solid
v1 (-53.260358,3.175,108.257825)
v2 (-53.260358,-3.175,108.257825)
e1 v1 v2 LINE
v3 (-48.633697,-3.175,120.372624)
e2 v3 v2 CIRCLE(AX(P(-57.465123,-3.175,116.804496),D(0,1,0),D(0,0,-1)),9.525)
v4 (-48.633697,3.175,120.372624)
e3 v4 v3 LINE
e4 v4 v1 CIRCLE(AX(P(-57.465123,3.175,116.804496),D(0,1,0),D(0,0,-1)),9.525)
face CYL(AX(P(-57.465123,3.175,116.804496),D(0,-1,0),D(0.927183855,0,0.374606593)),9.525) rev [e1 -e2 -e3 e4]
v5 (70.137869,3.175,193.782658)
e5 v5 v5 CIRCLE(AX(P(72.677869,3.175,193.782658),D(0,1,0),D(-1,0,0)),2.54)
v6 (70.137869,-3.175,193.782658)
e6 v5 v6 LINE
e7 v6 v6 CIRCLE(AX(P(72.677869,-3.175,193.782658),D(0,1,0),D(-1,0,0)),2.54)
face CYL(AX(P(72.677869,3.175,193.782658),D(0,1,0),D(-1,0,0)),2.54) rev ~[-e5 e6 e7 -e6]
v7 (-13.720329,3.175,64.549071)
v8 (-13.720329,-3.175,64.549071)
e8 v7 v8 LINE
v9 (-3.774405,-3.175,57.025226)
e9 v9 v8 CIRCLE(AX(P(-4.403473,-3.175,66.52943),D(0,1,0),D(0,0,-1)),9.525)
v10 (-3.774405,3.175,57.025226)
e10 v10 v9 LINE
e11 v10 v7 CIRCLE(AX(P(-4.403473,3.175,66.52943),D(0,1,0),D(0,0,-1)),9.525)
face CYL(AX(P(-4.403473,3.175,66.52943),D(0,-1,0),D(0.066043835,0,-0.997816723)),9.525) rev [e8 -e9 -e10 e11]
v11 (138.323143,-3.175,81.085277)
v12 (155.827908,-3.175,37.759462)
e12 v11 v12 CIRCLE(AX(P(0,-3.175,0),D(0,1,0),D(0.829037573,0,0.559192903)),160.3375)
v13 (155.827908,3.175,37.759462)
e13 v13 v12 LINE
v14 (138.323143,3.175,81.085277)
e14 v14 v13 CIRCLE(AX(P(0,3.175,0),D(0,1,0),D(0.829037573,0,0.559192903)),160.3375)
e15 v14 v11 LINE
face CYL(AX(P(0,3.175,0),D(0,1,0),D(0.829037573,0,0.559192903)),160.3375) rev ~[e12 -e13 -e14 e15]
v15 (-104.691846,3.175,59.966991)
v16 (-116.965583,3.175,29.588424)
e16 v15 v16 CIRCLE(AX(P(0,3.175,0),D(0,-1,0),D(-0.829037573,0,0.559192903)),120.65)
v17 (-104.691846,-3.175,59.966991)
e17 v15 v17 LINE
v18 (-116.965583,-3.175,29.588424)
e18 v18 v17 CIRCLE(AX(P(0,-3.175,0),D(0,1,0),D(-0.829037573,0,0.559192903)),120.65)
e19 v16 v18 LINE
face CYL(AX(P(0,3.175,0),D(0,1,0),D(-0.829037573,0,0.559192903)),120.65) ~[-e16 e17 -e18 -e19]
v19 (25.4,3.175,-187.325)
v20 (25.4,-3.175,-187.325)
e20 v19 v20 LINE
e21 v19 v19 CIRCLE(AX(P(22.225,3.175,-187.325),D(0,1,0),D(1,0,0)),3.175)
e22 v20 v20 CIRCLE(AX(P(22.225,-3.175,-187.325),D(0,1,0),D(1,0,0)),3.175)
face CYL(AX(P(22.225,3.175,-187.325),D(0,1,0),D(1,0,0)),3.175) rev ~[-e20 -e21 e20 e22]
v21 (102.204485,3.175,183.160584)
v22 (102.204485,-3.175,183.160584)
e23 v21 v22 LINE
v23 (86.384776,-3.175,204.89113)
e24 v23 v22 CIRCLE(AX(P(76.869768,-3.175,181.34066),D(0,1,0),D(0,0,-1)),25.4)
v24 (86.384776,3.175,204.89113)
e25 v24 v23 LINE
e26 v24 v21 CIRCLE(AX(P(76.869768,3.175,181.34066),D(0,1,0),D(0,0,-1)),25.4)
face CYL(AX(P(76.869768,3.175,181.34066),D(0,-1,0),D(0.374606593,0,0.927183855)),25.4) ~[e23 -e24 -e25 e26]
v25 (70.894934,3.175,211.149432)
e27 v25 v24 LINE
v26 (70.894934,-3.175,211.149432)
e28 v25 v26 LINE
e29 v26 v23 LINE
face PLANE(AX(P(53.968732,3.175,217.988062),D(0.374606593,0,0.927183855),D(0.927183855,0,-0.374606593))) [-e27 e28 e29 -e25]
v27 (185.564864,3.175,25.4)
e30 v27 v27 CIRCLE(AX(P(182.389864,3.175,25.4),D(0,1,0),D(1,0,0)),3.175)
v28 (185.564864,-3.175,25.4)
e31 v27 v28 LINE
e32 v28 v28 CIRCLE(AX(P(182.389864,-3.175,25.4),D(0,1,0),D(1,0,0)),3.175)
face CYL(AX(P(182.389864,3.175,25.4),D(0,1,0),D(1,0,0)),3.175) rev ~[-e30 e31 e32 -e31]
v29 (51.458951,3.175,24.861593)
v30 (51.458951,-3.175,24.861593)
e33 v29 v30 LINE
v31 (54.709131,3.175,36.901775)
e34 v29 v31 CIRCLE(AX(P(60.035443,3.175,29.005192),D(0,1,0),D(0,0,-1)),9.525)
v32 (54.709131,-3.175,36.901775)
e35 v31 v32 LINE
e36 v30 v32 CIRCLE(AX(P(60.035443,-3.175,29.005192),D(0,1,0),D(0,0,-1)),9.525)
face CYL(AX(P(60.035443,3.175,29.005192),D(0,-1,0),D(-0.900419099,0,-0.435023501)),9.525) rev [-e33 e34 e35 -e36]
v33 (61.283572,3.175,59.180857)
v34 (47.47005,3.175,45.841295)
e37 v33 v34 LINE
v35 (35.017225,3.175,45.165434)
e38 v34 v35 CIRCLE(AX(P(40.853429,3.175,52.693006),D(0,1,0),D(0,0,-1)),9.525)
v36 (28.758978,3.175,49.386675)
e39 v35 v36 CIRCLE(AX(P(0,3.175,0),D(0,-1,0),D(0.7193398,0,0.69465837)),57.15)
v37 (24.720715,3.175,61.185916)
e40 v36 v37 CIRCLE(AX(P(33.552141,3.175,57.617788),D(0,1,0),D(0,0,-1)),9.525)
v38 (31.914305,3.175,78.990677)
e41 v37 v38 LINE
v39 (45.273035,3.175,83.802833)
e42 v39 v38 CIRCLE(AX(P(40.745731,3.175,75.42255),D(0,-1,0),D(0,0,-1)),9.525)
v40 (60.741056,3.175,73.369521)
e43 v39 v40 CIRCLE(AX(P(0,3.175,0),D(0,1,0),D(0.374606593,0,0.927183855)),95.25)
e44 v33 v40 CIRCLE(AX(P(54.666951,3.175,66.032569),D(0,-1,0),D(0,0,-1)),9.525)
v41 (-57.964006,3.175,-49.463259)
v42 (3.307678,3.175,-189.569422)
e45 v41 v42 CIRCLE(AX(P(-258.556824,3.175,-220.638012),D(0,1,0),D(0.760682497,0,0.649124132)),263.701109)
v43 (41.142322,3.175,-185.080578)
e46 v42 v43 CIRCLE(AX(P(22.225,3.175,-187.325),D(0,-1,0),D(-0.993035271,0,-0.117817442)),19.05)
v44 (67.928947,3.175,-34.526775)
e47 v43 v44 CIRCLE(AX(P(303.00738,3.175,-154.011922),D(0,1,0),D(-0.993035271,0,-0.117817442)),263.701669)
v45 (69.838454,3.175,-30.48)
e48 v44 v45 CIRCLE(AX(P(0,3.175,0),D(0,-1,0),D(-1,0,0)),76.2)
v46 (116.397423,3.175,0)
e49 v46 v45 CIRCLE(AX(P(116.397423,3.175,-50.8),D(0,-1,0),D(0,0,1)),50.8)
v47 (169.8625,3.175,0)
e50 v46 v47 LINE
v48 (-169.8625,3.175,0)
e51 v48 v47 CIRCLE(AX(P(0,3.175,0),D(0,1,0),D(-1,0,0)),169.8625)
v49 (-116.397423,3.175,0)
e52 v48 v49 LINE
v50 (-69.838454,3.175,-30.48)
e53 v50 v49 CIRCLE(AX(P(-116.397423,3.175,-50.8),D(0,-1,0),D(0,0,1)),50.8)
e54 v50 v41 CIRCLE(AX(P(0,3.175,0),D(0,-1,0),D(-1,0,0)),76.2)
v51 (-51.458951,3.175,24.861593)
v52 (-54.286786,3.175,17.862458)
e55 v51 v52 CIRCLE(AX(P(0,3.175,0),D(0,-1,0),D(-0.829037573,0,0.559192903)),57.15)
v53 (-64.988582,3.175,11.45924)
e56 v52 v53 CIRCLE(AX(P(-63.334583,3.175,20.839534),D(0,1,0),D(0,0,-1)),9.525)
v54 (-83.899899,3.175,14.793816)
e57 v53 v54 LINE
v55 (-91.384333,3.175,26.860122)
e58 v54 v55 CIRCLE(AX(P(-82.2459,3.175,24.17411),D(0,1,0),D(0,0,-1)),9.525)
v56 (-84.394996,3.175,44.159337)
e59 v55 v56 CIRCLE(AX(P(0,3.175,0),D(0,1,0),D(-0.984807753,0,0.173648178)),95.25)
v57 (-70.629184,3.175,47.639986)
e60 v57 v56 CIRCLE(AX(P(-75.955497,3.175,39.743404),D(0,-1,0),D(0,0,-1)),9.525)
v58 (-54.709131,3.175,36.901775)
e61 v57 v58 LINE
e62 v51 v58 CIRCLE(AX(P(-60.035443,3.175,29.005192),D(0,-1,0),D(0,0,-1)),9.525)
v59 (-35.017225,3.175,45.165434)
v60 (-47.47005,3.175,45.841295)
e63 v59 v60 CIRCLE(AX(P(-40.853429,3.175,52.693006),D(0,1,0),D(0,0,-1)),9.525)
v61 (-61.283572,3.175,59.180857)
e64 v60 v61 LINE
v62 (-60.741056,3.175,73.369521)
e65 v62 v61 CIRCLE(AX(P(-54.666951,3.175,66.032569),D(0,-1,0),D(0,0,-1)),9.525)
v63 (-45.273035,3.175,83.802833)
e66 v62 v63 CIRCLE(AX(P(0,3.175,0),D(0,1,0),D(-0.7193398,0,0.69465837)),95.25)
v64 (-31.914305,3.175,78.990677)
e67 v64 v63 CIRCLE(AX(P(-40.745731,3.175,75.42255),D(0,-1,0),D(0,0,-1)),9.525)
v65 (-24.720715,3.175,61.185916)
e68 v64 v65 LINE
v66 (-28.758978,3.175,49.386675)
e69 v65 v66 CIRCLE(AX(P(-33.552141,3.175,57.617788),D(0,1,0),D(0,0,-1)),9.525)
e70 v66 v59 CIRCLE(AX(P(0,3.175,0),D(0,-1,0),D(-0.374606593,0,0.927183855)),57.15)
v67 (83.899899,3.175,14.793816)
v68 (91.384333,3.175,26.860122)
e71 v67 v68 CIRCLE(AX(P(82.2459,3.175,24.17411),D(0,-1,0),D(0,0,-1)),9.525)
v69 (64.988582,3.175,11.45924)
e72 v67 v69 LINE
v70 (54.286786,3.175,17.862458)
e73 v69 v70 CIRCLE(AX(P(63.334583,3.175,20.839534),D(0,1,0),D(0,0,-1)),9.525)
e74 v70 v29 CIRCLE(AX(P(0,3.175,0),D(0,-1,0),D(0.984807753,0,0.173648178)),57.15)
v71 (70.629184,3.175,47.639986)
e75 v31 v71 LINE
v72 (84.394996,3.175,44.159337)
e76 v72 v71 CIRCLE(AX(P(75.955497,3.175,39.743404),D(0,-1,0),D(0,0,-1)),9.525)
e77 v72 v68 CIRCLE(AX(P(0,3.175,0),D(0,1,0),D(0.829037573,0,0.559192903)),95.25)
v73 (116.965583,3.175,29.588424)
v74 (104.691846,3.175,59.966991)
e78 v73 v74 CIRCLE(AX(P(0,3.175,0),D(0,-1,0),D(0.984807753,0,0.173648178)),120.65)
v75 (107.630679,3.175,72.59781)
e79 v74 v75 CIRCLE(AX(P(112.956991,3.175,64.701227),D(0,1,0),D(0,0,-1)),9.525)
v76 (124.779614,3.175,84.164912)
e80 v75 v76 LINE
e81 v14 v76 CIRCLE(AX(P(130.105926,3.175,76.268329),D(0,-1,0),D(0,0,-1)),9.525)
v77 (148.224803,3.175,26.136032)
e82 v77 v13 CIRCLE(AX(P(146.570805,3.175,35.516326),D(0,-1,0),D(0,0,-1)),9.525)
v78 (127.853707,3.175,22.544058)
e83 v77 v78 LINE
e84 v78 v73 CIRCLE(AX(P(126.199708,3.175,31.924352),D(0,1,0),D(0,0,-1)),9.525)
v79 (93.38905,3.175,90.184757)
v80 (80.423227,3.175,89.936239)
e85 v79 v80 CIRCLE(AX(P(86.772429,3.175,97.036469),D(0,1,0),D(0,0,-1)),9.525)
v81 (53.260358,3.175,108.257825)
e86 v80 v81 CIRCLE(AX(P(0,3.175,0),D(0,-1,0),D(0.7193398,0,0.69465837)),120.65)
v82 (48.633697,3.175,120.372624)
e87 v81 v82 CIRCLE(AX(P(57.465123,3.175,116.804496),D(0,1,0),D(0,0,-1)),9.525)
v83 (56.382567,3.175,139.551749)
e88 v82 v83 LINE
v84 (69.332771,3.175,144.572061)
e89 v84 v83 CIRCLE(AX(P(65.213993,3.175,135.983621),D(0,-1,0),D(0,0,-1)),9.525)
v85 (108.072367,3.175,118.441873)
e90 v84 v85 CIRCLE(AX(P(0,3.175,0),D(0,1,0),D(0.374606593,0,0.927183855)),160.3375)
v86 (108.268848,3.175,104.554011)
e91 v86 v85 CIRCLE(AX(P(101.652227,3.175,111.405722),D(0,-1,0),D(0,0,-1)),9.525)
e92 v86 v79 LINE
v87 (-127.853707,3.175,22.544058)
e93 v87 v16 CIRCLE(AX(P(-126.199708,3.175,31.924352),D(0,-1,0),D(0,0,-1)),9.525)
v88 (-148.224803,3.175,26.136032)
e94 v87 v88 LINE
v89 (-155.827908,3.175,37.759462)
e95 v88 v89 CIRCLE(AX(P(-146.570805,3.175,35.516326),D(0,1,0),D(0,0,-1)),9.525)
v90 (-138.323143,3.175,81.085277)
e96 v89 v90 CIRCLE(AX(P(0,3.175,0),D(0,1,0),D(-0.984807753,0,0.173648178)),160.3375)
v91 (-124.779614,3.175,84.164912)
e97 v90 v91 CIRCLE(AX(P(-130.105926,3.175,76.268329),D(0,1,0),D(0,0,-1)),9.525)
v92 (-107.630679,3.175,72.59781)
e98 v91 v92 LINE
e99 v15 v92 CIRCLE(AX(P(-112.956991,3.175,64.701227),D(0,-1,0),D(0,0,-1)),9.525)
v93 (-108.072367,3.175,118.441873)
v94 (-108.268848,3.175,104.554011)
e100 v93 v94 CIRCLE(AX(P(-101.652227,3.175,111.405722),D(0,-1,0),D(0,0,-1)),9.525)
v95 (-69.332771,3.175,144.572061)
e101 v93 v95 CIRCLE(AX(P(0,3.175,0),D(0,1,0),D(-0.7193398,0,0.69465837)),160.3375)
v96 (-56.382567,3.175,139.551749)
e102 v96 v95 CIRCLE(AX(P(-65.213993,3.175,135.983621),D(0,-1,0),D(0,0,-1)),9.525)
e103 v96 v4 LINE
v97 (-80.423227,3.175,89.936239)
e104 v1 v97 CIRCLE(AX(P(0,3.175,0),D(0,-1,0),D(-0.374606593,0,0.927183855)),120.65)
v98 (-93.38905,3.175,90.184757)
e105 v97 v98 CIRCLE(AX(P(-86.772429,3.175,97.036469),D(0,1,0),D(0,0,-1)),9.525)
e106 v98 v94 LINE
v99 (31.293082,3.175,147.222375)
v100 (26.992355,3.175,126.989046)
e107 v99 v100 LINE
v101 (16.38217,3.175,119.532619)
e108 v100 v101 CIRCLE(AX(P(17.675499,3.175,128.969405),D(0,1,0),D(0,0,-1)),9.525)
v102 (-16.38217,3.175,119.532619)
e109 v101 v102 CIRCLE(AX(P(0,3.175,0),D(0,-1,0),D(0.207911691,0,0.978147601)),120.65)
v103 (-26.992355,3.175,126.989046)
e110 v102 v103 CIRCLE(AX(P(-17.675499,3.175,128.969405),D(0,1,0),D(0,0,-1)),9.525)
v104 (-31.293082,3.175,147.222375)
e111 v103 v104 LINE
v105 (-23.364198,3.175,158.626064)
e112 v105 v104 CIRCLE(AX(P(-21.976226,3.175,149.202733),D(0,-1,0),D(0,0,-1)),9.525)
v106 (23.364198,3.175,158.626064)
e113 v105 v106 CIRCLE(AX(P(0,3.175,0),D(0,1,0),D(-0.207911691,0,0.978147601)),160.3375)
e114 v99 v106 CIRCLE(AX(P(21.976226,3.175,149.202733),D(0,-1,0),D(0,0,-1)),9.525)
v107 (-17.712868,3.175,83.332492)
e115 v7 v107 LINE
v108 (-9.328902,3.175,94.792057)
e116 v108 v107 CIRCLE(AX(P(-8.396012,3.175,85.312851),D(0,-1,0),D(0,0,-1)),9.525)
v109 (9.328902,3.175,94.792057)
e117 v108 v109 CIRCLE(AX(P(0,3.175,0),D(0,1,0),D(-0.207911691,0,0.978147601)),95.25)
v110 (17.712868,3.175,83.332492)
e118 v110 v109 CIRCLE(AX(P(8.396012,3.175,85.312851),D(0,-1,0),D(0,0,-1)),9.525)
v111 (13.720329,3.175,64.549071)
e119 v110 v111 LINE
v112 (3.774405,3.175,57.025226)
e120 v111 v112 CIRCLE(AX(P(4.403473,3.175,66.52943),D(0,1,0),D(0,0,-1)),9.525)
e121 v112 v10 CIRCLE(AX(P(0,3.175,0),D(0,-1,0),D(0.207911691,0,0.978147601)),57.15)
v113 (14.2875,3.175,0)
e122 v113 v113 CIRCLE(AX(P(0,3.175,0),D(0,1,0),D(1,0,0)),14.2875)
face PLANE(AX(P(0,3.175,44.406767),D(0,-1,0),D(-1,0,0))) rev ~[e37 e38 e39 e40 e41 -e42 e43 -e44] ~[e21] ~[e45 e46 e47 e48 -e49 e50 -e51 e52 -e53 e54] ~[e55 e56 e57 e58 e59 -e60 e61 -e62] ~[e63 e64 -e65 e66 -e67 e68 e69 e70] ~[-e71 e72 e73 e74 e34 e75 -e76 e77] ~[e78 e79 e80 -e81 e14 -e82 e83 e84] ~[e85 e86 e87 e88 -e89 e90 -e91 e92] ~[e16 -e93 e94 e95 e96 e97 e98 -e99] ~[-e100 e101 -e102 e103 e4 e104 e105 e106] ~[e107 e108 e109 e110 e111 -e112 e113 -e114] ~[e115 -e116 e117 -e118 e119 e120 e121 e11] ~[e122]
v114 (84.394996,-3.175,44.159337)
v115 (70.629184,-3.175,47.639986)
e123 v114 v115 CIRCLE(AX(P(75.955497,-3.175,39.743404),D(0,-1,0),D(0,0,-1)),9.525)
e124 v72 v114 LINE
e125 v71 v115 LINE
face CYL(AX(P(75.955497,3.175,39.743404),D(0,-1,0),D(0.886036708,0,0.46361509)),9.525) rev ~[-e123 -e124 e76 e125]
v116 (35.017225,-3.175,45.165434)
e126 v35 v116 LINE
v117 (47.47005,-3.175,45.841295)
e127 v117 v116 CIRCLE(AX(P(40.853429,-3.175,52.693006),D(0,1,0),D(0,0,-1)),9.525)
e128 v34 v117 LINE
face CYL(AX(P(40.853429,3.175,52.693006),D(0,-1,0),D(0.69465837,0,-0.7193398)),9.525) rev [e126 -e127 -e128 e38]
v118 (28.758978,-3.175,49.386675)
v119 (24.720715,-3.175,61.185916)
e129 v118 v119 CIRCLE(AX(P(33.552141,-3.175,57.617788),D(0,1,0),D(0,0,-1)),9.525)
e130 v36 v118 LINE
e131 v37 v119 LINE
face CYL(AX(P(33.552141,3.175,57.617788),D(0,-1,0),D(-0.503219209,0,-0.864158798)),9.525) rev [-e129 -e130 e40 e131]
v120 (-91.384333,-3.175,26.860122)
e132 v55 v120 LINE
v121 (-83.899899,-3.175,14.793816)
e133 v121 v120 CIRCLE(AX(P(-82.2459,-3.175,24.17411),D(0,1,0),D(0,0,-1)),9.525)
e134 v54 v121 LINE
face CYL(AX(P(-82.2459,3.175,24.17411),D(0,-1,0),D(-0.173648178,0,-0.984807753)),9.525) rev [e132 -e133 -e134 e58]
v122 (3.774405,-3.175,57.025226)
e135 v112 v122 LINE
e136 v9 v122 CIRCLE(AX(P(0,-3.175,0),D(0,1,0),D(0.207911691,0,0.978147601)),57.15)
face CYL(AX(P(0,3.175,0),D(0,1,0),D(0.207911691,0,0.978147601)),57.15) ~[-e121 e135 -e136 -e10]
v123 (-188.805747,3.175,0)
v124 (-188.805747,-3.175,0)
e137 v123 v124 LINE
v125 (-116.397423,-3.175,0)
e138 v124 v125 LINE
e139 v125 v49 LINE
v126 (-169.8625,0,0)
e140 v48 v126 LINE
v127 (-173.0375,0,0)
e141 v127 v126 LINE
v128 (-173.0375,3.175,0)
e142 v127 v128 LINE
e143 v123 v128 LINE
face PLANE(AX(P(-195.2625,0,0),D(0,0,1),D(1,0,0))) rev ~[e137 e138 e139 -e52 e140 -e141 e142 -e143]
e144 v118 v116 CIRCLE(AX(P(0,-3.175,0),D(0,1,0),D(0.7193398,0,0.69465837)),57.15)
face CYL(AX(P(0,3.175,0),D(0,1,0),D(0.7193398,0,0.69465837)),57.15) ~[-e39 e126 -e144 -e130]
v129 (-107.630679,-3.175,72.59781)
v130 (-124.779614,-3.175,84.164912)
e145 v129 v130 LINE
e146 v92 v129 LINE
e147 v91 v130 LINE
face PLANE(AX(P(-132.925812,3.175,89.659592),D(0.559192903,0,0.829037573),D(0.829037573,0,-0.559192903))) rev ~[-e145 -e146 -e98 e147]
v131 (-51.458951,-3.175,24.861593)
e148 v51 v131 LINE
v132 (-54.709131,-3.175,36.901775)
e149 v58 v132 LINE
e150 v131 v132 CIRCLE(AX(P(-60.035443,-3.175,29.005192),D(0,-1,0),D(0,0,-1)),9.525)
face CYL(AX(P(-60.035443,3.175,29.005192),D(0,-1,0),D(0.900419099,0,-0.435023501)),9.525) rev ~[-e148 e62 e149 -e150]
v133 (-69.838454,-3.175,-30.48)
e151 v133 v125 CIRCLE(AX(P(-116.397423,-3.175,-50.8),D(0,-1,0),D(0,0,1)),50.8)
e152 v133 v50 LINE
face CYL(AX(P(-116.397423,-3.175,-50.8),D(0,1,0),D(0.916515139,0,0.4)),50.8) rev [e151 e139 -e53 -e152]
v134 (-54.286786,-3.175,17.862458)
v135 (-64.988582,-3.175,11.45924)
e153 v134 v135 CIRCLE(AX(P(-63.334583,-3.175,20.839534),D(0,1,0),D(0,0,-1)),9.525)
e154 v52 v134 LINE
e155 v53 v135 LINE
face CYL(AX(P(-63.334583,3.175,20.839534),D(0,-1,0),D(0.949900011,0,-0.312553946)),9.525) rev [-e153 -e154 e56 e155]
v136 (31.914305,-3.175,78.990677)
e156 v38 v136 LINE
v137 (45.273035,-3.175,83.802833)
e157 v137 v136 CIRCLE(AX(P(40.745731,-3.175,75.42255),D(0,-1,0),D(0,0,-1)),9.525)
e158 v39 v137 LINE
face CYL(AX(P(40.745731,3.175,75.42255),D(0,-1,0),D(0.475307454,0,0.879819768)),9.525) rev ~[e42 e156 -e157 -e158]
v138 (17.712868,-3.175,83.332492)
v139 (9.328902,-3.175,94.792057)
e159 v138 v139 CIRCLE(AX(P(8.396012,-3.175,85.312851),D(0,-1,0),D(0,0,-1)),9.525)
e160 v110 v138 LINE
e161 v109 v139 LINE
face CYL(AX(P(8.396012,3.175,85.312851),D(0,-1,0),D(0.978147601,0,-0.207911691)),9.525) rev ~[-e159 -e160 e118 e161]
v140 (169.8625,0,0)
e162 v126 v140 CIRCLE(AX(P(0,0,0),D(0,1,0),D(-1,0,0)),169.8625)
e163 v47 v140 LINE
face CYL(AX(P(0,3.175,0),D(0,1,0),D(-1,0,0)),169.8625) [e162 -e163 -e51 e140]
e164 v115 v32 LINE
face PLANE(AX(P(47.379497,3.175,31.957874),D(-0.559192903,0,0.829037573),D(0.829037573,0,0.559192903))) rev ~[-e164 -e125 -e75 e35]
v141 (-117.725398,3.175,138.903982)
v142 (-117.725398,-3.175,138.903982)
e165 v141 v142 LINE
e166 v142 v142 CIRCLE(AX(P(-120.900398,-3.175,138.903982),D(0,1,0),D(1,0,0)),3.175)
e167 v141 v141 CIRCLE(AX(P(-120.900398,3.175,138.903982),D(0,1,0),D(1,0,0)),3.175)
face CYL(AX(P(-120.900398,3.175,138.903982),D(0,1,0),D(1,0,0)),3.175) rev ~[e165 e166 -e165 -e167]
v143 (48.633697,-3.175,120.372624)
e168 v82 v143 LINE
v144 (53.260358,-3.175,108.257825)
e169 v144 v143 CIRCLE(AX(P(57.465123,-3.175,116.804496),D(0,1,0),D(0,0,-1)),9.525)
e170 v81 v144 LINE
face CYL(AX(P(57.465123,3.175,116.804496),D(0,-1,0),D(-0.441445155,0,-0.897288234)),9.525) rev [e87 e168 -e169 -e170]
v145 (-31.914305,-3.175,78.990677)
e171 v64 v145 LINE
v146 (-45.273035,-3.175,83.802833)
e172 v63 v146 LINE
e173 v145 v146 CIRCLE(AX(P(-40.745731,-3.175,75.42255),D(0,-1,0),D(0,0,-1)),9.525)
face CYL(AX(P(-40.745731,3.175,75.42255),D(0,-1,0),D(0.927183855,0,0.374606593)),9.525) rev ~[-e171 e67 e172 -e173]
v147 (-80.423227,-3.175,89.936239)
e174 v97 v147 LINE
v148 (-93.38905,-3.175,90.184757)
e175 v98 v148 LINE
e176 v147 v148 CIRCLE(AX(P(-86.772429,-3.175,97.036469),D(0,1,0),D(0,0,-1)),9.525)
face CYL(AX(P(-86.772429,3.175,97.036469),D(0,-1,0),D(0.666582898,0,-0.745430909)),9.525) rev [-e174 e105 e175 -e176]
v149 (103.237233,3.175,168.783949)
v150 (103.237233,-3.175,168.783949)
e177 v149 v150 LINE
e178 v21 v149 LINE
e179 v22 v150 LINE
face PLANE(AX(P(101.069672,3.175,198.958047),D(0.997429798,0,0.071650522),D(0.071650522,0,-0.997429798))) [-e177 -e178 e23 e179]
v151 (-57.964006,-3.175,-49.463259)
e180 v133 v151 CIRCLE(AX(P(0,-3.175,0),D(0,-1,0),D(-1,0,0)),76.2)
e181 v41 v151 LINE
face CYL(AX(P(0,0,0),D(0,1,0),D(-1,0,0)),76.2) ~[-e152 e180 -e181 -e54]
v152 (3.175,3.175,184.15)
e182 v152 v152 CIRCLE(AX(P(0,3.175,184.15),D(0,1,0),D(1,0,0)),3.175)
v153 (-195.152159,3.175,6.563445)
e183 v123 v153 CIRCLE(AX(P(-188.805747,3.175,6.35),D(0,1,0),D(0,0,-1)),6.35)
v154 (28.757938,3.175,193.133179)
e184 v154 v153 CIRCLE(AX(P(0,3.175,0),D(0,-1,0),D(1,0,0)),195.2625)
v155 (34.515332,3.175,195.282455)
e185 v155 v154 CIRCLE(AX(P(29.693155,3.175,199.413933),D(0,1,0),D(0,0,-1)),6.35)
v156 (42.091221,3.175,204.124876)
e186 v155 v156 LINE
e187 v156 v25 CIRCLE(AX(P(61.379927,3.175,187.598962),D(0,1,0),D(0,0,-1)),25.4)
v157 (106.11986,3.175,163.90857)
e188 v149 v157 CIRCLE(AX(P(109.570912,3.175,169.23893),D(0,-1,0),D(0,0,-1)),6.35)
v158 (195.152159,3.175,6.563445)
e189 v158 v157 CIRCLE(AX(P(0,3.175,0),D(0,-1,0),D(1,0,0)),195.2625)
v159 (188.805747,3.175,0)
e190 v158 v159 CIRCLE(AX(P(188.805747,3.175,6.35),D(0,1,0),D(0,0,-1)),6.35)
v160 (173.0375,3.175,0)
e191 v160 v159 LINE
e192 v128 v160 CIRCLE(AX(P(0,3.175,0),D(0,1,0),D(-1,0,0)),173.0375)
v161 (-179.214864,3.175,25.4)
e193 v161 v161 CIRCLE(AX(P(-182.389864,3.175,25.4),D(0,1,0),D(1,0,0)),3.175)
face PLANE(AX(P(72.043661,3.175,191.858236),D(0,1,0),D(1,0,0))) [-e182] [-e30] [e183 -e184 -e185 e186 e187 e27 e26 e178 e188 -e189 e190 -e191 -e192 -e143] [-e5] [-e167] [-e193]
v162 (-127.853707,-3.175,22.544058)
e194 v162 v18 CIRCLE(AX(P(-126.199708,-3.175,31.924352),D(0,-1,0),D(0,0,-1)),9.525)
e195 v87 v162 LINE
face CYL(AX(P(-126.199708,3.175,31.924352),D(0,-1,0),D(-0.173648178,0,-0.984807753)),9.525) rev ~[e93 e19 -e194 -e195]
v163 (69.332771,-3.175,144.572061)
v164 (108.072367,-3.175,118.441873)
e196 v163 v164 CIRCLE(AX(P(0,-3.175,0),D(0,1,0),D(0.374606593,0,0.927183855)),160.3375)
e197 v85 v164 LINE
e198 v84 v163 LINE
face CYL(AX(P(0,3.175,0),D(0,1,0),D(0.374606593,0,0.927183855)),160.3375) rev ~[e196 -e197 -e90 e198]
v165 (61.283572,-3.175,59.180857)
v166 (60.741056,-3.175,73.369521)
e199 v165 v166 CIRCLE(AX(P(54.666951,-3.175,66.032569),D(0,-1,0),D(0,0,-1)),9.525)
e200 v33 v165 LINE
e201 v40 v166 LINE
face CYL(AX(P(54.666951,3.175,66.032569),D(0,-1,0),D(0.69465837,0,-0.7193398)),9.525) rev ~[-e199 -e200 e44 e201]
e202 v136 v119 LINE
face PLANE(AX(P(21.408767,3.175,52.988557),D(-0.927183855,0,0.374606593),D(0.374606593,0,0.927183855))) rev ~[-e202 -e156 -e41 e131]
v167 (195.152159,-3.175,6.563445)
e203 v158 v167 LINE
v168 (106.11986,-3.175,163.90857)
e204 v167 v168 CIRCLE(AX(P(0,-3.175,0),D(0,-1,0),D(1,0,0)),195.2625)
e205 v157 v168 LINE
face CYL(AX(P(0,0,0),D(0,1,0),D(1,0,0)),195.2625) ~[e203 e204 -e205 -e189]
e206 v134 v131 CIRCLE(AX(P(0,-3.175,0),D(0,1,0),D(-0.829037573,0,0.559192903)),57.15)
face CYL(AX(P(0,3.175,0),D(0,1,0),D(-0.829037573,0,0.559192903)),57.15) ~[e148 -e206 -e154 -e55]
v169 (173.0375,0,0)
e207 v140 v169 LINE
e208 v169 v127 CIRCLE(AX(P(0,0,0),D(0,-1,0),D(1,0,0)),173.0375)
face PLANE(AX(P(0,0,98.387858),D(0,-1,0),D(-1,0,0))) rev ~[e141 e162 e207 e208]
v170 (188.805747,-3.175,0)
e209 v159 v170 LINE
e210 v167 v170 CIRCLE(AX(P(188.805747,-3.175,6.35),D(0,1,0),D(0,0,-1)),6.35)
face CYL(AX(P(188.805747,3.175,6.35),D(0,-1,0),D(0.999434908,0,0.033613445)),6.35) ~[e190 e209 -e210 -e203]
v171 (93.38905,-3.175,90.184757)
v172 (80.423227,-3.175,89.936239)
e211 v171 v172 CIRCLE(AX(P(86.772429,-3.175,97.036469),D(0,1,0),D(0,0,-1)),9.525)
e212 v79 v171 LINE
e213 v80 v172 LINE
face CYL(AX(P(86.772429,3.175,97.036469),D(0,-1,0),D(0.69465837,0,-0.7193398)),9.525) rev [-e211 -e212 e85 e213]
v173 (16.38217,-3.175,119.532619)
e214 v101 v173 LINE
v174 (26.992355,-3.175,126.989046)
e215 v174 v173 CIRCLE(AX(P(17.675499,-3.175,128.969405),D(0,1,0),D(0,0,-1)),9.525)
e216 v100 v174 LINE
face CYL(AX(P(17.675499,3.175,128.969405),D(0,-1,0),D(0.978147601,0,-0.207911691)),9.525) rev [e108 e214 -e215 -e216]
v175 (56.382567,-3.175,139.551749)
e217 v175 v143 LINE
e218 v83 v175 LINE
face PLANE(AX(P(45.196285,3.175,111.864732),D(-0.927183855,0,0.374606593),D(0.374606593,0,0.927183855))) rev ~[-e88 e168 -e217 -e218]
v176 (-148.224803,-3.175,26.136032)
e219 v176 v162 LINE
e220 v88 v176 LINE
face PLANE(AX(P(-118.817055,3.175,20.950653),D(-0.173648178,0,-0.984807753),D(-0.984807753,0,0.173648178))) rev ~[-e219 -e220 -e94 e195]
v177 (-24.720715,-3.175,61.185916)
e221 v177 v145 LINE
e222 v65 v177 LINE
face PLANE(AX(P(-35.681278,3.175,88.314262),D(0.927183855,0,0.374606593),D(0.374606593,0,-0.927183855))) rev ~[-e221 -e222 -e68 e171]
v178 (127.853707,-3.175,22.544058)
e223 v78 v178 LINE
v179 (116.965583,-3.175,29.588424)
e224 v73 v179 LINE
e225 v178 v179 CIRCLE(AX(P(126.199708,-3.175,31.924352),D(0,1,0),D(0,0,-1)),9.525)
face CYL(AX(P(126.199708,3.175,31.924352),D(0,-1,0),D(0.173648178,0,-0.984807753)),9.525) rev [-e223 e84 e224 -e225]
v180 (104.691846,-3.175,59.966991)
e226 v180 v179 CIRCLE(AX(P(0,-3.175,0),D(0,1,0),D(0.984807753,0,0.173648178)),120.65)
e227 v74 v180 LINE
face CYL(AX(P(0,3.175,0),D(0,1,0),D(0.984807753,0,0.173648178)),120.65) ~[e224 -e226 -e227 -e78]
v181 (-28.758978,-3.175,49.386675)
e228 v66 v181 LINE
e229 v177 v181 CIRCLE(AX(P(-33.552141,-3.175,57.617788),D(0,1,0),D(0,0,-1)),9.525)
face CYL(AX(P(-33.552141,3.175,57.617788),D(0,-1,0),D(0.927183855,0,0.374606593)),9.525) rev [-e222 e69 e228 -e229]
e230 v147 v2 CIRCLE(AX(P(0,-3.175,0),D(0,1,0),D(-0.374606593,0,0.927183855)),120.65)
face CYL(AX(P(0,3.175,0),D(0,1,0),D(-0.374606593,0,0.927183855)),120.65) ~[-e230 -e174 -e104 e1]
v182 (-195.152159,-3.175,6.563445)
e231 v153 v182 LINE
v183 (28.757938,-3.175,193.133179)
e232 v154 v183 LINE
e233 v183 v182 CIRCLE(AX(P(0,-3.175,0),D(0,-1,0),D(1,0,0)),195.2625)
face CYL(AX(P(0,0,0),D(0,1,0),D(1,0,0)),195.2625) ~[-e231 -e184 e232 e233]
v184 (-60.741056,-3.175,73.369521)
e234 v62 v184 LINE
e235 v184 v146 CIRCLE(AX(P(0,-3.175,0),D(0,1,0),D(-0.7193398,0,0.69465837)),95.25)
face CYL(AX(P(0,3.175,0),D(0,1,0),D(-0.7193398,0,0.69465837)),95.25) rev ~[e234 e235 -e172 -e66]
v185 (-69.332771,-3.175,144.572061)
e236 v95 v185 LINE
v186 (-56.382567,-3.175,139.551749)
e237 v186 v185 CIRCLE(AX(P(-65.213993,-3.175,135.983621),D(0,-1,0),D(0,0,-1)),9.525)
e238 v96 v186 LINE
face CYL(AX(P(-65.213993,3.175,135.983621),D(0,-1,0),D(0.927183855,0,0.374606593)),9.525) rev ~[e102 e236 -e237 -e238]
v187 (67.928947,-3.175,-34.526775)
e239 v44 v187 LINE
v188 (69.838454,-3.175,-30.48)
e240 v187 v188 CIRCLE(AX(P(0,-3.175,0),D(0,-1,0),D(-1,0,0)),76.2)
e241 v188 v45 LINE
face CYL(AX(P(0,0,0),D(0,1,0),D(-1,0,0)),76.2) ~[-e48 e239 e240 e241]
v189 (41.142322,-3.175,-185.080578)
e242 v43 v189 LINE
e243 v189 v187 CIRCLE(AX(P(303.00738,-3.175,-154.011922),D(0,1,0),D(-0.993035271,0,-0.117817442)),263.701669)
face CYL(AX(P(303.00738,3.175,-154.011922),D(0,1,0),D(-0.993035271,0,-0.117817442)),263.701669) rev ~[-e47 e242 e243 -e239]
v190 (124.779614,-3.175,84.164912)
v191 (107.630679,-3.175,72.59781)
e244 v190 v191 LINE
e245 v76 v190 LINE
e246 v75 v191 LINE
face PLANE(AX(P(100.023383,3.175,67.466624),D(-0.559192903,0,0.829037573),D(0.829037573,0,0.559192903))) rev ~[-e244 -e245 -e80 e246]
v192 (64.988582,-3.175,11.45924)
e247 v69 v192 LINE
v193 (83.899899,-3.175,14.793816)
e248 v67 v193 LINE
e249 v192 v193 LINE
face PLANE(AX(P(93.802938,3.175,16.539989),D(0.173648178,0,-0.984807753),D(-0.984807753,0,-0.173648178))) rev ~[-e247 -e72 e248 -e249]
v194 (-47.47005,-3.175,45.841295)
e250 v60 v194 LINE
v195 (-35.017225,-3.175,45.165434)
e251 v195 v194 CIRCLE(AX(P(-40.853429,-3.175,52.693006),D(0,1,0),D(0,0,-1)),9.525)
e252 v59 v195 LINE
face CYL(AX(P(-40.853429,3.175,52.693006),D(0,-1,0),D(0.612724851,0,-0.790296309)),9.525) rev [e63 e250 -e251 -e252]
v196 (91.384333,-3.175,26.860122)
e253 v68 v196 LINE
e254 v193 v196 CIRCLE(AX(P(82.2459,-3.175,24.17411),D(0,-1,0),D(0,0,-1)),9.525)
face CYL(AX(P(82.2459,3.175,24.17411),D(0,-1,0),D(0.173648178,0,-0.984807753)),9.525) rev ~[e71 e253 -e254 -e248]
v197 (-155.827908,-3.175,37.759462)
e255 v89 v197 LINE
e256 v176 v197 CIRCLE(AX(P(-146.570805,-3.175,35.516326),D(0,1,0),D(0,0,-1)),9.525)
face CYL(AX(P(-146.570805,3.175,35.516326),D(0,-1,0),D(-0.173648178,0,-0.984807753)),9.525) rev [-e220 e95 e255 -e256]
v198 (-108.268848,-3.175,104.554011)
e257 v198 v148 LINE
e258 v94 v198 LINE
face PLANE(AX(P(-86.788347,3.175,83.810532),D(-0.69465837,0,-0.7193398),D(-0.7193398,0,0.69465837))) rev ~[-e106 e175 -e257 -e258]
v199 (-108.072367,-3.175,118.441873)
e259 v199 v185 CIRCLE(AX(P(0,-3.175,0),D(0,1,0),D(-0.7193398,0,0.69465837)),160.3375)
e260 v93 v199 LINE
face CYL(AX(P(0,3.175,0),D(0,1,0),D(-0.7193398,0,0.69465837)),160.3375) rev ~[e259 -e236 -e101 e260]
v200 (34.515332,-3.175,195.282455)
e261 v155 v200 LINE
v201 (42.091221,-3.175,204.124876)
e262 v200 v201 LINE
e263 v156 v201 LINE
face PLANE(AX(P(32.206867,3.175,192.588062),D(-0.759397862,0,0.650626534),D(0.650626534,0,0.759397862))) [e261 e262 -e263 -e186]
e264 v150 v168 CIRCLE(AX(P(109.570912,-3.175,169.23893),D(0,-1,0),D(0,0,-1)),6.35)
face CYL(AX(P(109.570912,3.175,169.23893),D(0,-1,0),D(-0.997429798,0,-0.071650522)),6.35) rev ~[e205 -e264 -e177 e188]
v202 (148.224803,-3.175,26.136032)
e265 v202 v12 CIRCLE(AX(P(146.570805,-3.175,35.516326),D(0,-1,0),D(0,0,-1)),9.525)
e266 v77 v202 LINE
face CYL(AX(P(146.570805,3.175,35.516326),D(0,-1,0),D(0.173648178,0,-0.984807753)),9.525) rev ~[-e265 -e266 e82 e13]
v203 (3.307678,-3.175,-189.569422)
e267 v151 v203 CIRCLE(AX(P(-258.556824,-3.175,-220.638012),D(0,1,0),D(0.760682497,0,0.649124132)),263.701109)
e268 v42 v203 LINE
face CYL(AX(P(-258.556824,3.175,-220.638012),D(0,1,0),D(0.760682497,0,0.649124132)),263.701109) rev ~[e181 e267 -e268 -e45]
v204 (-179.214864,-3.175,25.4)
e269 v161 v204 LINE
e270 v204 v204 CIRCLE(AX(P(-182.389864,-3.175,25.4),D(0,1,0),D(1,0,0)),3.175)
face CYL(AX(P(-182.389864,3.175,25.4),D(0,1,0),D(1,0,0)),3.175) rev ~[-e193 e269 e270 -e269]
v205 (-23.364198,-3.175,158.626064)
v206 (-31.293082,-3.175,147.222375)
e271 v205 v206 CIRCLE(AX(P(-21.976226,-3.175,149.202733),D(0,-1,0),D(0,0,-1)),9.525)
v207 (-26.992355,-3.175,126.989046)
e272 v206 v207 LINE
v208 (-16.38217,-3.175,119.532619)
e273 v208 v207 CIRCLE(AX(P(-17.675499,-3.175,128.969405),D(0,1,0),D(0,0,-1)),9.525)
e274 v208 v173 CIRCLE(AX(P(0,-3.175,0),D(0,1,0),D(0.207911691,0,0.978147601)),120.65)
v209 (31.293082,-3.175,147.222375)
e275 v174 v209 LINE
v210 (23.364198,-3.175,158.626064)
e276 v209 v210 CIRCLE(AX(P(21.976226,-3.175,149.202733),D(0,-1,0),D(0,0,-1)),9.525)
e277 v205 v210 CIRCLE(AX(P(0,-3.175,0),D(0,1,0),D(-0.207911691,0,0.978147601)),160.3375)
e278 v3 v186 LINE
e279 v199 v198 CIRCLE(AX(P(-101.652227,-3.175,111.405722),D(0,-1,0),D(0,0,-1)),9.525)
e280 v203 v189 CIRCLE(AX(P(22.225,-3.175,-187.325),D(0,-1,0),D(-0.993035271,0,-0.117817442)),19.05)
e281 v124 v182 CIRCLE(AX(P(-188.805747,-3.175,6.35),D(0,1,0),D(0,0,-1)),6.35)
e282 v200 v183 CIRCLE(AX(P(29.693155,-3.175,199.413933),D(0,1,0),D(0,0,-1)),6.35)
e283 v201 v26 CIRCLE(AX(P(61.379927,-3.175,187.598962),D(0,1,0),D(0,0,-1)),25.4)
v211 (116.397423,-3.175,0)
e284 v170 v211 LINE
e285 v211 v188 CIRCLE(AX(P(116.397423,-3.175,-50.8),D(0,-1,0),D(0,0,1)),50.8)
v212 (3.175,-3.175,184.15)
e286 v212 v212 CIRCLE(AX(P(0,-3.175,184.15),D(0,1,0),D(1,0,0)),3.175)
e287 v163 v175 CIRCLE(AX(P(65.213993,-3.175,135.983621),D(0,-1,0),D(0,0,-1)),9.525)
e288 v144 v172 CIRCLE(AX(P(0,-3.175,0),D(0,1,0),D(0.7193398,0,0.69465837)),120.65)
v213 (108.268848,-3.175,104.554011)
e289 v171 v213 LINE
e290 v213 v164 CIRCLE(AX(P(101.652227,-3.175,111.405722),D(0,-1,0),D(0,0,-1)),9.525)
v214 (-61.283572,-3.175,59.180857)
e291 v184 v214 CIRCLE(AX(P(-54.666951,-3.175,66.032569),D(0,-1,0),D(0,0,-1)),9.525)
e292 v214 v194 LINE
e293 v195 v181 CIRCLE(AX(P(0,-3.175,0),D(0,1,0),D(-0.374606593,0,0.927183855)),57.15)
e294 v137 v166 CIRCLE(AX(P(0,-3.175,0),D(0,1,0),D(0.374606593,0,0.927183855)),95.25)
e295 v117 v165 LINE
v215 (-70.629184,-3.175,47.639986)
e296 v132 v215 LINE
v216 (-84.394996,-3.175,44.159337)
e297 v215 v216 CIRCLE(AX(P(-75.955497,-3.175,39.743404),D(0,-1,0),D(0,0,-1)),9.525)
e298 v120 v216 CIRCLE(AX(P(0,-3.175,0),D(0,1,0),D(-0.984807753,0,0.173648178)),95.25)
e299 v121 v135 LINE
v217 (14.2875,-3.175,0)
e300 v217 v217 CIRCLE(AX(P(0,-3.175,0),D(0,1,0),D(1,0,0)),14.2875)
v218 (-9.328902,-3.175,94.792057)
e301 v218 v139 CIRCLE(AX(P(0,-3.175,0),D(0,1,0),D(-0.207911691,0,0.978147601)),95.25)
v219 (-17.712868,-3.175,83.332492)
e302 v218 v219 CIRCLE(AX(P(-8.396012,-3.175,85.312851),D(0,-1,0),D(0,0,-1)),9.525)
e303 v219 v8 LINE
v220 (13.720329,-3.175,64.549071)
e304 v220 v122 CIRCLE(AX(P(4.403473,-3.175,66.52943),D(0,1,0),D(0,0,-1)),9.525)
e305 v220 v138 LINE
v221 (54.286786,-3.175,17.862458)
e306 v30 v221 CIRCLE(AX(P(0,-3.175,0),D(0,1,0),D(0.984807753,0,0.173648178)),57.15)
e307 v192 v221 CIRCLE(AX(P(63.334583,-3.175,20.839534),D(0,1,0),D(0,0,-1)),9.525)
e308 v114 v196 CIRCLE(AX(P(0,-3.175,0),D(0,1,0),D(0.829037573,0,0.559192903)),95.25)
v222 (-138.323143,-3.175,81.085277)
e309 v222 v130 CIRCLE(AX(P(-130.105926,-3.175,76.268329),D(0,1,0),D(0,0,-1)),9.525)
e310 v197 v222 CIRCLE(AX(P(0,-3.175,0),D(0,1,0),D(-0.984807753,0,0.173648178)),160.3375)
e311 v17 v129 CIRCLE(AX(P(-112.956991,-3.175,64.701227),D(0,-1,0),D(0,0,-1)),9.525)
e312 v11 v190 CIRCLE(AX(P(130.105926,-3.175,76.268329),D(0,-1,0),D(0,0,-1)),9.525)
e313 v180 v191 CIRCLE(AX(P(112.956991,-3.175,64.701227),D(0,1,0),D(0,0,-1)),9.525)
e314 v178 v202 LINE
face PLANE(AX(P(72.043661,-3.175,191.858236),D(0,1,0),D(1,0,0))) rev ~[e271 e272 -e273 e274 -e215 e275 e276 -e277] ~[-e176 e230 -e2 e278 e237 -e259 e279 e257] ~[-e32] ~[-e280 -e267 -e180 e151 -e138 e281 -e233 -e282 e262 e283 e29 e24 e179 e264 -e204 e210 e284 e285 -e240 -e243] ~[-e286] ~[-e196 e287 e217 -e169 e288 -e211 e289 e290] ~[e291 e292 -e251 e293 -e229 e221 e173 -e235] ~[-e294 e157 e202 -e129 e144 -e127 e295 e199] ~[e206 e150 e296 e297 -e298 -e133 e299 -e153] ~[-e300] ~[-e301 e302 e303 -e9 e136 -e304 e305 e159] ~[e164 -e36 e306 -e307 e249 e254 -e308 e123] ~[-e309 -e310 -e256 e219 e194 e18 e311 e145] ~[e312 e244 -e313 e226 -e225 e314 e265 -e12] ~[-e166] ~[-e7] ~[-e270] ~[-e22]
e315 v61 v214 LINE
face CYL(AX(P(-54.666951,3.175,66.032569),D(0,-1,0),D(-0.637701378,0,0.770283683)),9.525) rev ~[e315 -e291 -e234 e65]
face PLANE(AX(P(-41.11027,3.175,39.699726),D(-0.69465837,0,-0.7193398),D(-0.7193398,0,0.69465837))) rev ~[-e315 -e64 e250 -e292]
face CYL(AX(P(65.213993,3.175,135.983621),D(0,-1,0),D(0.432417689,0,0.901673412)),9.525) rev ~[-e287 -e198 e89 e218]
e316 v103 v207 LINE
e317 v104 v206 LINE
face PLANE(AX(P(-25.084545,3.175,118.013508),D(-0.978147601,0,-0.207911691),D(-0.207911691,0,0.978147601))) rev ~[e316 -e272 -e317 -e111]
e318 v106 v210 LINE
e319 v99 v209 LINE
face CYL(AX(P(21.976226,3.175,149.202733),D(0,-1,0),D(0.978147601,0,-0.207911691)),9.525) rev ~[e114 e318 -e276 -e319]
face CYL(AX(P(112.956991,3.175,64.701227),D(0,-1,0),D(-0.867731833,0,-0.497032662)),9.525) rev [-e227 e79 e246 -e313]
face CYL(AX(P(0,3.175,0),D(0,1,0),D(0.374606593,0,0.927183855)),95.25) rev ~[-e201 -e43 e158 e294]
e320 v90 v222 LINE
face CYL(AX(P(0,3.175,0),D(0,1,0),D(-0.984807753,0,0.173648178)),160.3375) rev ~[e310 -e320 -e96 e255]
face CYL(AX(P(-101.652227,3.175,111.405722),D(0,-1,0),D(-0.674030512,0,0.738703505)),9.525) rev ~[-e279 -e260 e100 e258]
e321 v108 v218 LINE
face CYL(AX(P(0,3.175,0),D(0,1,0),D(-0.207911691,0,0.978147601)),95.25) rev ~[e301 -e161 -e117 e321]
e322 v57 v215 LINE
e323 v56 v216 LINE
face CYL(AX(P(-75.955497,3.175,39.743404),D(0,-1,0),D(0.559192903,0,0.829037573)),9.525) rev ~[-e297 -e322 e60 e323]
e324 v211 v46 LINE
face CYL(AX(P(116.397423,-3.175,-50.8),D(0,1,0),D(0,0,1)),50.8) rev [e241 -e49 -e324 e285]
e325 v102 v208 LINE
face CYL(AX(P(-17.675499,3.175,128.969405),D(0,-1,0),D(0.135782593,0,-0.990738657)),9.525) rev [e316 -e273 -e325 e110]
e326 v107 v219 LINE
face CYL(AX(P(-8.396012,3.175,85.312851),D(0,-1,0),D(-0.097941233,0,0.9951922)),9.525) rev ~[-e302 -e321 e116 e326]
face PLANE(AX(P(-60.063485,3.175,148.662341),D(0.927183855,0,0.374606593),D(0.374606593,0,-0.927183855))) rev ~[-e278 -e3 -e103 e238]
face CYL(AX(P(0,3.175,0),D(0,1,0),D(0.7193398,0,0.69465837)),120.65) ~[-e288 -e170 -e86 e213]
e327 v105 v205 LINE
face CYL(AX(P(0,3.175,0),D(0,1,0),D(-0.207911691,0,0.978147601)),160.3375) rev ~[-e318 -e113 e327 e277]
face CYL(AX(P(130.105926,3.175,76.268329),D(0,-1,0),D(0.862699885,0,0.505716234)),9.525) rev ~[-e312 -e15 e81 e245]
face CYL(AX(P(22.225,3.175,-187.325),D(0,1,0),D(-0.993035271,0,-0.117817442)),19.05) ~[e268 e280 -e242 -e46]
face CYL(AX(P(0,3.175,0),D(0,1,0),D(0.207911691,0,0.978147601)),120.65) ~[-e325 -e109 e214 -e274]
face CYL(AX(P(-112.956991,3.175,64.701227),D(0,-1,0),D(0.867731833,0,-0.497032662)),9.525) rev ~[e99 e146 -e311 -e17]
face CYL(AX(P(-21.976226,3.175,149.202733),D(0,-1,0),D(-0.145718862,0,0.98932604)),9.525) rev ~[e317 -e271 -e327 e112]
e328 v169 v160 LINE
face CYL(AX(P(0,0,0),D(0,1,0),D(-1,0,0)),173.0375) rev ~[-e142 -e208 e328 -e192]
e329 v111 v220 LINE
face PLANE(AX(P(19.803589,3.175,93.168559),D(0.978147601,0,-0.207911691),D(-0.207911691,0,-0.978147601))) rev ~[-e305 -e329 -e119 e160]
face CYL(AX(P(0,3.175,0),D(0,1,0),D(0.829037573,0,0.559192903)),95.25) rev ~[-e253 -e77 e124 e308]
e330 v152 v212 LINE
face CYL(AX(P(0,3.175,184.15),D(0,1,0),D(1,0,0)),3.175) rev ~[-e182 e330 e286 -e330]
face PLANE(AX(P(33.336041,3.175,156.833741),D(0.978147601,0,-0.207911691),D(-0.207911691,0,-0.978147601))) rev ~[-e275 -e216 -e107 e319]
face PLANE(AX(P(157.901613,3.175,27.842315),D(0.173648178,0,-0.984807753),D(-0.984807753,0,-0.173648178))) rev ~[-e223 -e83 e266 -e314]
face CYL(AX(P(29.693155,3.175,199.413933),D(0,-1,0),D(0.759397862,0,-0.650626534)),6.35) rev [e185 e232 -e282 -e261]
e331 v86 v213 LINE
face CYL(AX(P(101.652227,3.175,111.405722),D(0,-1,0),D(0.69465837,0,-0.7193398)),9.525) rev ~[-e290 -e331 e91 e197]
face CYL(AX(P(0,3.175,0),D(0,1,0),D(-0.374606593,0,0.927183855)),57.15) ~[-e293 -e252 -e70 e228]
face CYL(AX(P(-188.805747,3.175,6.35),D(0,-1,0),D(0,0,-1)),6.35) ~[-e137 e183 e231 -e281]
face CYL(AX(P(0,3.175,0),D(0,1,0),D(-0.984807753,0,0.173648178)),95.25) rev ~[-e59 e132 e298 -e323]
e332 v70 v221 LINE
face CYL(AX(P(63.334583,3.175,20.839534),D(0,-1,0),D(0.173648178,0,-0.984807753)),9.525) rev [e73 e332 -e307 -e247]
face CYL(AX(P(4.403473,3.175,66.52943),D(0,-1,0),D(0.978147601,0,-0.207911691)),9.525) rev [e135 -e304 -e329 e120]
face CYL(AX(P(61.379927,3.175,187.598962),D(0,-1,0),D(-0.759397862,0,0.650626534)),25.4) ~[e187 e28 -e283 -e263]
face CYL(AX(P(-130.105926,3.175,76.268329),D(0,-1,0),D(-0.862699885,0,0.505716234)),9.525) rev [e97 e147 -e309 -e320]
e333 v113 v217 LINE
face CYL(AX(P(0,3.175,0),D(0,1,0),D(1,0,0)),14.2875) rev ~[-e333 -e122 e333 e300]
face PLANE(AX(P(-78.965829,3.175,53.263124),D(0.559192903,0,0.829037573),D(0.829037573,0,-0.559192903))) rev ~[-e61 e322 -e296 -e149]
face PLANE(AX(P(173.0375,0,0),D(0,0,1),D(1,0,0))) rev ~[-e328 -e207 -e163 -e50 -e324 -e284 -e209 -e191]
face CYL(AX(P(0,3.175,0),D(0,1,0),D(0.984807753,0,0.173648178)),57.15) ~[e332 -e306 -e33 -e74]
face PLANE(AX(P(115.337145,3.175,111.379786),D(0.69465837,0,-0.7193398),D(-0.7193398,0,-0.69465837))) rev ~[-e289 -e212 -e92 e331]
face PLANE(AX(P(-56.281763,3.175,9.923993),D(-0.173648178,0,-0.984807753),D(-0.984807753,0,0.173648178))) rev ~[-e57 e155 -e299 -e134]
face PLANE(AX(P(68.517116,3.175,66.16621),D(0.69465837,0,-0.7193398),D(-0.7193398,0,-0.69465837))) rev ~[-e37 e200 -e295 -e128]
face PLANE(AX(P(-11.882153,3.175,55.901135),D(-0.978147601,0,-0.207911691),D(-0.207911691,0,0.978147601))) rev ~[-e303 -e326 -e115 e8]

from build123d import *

# Parameters (mm, degrees)
BOSS_EXTRUDE1_DEPTH = 3.175
CUT_EXTRUDE1_DEPTH  = 7.35
CUT_EXTRUDE2_DEPTH  = 3.175
BOSS_EXTRUDE2_DEPTH = 3.175
SKETCH6_R           = 14.2875
CUT_EXTRUDE3_DEPTH  = 7.35
BOSS_EXTRUDE3_DEPTH = 6.35
SKETCH8_R           = 2.54
CUT_EXTRUDE4_DEPTH  = 7.35
SKETCH9_R           = 3.175
CUT_EXTRUDE5_DEPTH  = 7.35
FILLET1_R           = 25.4
FILLET2_R           = 9.525
FILLET4_R           = 6.35
FILLET3_R           = 50.8
SKETCH10_R          = 3.175
BOSS_EXTRUDE4_DEPTH = 6.35


with BuildPart() as part:
    # Sketch1 → Boss-Extrude1 (new body, symmetric)
    with BuildSketch(Plane(origin=(0, 0, 0), x_dir=(1, 0, 0), z_dir=(0, 1, 0))):
        with BuildLine():
            Line((76.2, 0), (173.0375, 0))
            ThreePointArc((173.0375, 0), (0, -173.0375), (-173.0375, 0))
            Line((-173.0375, 0), (-76.2, 0))
            ThreePointArc((-76.2, 0), (0, 76.2), (76.2, 0))
        make_face()
    extrude(amount=BOSS_EXTRUDE1_DEPTH, both=True)

    # Sketch2 → Cut-Extrude1 (cut, through all)
    with BuildSketch(Plane(origin=(0, 3.175, 0), x_dir=(1, 0, 0), z_dir=(0, 1, 0))):
        with BuildLine():
            Line((-78.965828786, -53.263124056), (-47.379497272, -31.957874433))
            ThreePointArc((-47.379497272, -31.957874433), (-52.988557288, -21.408766814), (-56.281763085, -9.923993354))
            Line((-56.281763085, -9.923993354), (-93.802938474, -16.539988923))
            ThreePointArc((-93.802938474, -16.539988923), (-88.314262147, -35.681278023), (-78.965828786, -53.263124056))
        make_face()
        with BuildLine():
            Line((-60.063484672, -148.662341282), (-45.196285496, -111.864732053))
            ThreePointArc((-45.196285496, -111.864732053), (-67.466623804, -100.023383129), (-86.788346911, -83.810532396))
            Line((-86.788346911, -83.810532396), (-115.337145237, -111.379786473))
            ThreePointArc((-115.337145237, -111.379786473), (-89.65959216, -132.92581179), (-60.063484672, -148.662341282))
        make_face()
        with BuildLine():
            Line((-35.681278023, -88.314262147), (-21.408766814, -52.988557288))
            ThreePointArc((-21.408766814, -52.988557288), (-31.957874433, -47.379497272), (-41.110269589, -39.699725872))
            Line((-41.110269589, -39.699725872), (-68.517115982, -66.166209786))
            ThreePointArc((-68.517115982, -66.166209786), (-53.263124056, -78.965828786), (-35.681278023, -88.314262147))
        make_face()
        with BuildLine():
            Line((-132.92581179, -89.65959216), (-100.023383129, -67.466623804))
            ThreePointArc((-100.023383129, -67.466623804), (-111.864732053, -45.196285496), (-118.817055401, -20.950652636))
            Line((-118.817055401, -20.950652636), (-157.901613099, -27.842314687))
            ThreePointArc((-157.901613099, -27.842314687), (-148.662341282, -60.063484672), (-132.92581179, -89.65959216))
        make_face()
        with BuildLine():
            Line((33.336040726, -156.833740933), (25.084545497, -118.013508029))
            ThreePointArc((25.084545497, -118.013508029), (0, -120.65), (-25.084545497, -118.013508029))
            Line((-25.084545497, -118.013508029), (-33.336040726, -156.833740933))
            ThreePointArc((-33.336040726, -156.833740933), (0, -160.3375), (33.336040726, -156.833740933))
        make_face()
        with BuildLine():
            Line((19.80358855, -93.16855897), (11.88215313, -55.901135382))
            ThreePointArc((11.88215313, -55.901135382), (0, -57.15), (-11.88215313, -55.901135382))
            Line((-11.88215313, -55.901135382), (-19.80358855, -93.16855897))
            ThreePointArc((-19.80358855, -93.16855897), (0, -95.25), (19.80358855, -93.16855897))
        make_face()
        with BuildLine():
            Line((115.337145237, -111.379786473), (86.788346911, -83.810532396))
            ThreePointArc((86.788346911, -83.810532396), (67.466623804, -100.023383129), (45.196285496, -111.864732053))
            Line((45.196285496, -111.864732053), (60.063484672, -148.662341282))
            ThreePointArc((60.063484672, -148.662341282), (89.65959216, -132.92581179), (115.337145237, -111.379786473))
        make_face()
        with BuildLine():
            Line((68.517115982, -66.166209786), (41.110269589, -39.699725872))
            ThreePointArc((41.110269589, -39.699725872), (31.957874433, -47.379497272), (21.408766814, -52.988557288))
            Line((21.408766814, -52.988557288), (35.681278023, -88.314262147))
            ThreePointArc((35.681278023, -88.314262147), (53.263124056, -78.965828786), (68.517115982, -66.166209786))
        make_face()
        with BuildLine():
            Line((157.901613099, -27.842314687), (118.817055401, -20.950652636))
            ThreePointArc((118.817055401, -20.950652636), (111.864732053, -45.196285496), (100.023383129, -67.466623804))
            Line((100.023383129, -67.466623804), (132.92581179, -89.65959216))
            ThreePointArc((132.92581179, -89.65959216), (148.662341282, -60.063484672), (157.901613099, -27.842314687))
        make_face()
        with BuildLine():
            Line((93.802938474, -16.539988923), (56.281763085, -9.923993354))
            ThreePointArc((56.281763085, -9.923993354), (52.988557288, -21.408766814), (47.379497272, -31.957874433))
            Line((47.379497272, -31.957874433), (78.965828786, -53.263124056))
            ThreePointArc((78.965828786, -53.263124056), (88.314262147, -35.681278023), (93.802938474, -16.539988923))
        make_face()
    extrude(amount=-CUT_EXTRUDE1_DEPTH, mode=Mode.SUBTRACT)

    # Sketch5 → Cut-Extrude2 (cut)
    with BuildSketch(Plane(origin=(0, 3.175, 0), x_dir=(1, 0, 0), z_dir=(0, 1, 0))):
        with BuildLine():
            Line((169.8625, 0), (173.0375, 0))
            ThreePointArc((173.0375, 0), (0, -173.0375), (-173.0375, 0))
            Line((-173.0375, 0), (-169.8625, 0))
            ThreePointArc((-169.8625, 0), (0, -169.8625), (169.8625, 0))
        make_face()
    extrude(amount=-CUT_EXTRUDE2_DEPTH, mode=Mode.SUBTRACT)

    # Sketch4 → Boss-Extrude2 (add, symmetric)
    with BuildSketch(Plane(origin=(0, 0, 0), x_dir=(1, 0, 0), z_dir=(0, 1, 0))):
        with BuildLine():
            Line((173.0375, 0), (195.2625, 0))
            ThreePointArc((195.2625, 0), (0, -195.2625), (-195.2625, 0))
            Line((-195.2625, 0), (-173.0375, 0))
            ThreePointArc((-173.0375, 0), (0, -173.0375), (173.0375, 0))
        make_face()
    extrude(amount=BOSS_EXTRUDE2_DEPTH, both=True)

    # Sketch6 → Cut-Extrude3 (cut, through all)
    with BuildSketch(Plane(origin=(0, 3.175, 0), x_dir=(1, 0, 0), z_dir=(0, 1, 0))):
        Circle(SKETCH6_R)
    extrude(amount=-CUT_EXTRUDE3_DEPTH, mode=Mode.SUBTRACT)

    # Sketch7 → Boss-Extrude3 (add, through all)
    with BuildSketch(Plane(origin=(0, 3.175, 0), x_dir=(1, 0, 0), z_dir=(0, 1, 0))):
        Polygon((32.206866836, -192.588062026), (53.968732111, -217.988062026), (101.069671923, -198.95804708), (103.466206527, -165.596461355), align=None)
    extrude(amount=-BOSS_EXTRUDE3_DEPTH)

    # Sketch8 → Cut-Extrude4 (cut, through all)
    with BuildSketch(Plane(origin=(0, 3.175, 0), x_dir=(-1, 0, 0), z_dir=(0, 1, 0))):
        with Locations((-72.677869349, 193.782658122)):
            Circle(SKETCH8_R)
    extrude(amount=-CUT_EXTRUDE4_DEPTH, mode=Mode.SUBTRACT)

    # Sketch9 → Cut-Extrude5 (cut, through all)
    with BuildSketch(Plane(origin=(0, 3.175, 0), x_dir=(1, 0, 0), z_dir=(0, 1, 0))):
        with Locations((-182.389864028, -25.4)):
            Circle(SKETCH9_R)
        with Locations((-120.900398056, -138.903982124)):
            Circle(SKETCH9_R)
        with Locations((0, -184.15)):
            Circle(SKETCH9_R)
        with Locations((182.389864028, -25.4)):
            Circle(SKETCH9_R)
    extrude(amount=-CUT_EXTRUDE5_DEPTH, mode=Mode.SUBTRACT)

    # Fillet1
    fillet1_edges = [part.edges().sort_by_distance(p)[0] for p in [
        (53.968732111, 0, 217.988062026),
        (101.069671923, 0, 198.95804708),
    ]]
    fillet(fillet1_edges, radius=FILLET1_R)

    # Fillet2
    fillet2_edges = [part.edges().sort_by_distance(p)[0] for p in [
        (-35.681278023, 0, 88.314262147),
        (-68.517115982, 0, 66.166209786),
        (-41.110269589, 0, 39.699725872),
        (-21.408766814, 0, 52.988557288),
        (33.336040726, 0, 156.833740933),
        (-33.336040726, 0, 156.833740933),
        (-25.084545497, 0, 118.013508029),
        (25.084545497, 0, 118.013508029),
        (-132.92581179, 0, 89.65959216),
        (-157.901613099, 0, 27.842314687),
        (-118.817055401, 0, 20.950652636),
        (-100.023383129, 0, 67.466623804),
        (19.80358855, 0, 93.16855897),
        (-19.80358855, 0, 93.16855897),
        (-11.88215313, 0, 55.901135382),
        (11.88215313, 0, 55.901135382),
        (115.337145237, 0, 111.379786473),
        (60.063484672, 0, 148.662341282),
        (45.196285496, 0, 111.864732053),
        (86.788346911, 0, 83.810532396),
        (93.802938474, 0, 16.539988923),
        (78.965828786, 0, 53.263124056),
        (47.379497272, 0, 31.957874433),
        (56.281763085, 0, 9.923993354),
        (157.901613099, 0, 27.842314687),
        (132.92581179, 0, 89.65959216),
        (100.023383129, 0, 67.466623804),
        (118.817055401, 0, 20.950652636),
        (68.517115982, 0, 66.166209786),
        (35.681278023, 0, 88.314262147),
        (21.408766814, 0, 52.988557288),
        (41.110269589, 0, 39.699725872),
        (-78.965828786, 0, 53.263124056),
        (-93.802938474, 0, 16.539988923),
        (-56.281763085, 0, 9.923993354),
        (-47.379497272, 0, 31.957874433),
        (-60.063484672, 0, 148.662341282),
        (-115.337145237, 0, 111.379786473),
        (-86.788346911, 0, 83.810532396),
        (-45.196285496, 0, 111.864732053),
    ]]
    fillet(fillet2_edges, radius=FILLET2_R)

    # Fillet4
    fillet4_edges = [part.edges().sort_by_distance(p)[0] for p in [
        (-195.2625, 0, 0),
        (195.2625, 0, 0),
        (32.206866836, 0, 192.588062026),
        (103.466206527, 0, 165.596461355),
    ]]
    fillet(fillet4_edges, radius=FILLET4_R)

    # Fillet3
    fillet3_edges = [part.edges().sort_by_distance(p)[0] for p in [
        (-76.2, 0, 0),
        (76.2, 0, 0),
    ]]
    fillet(fillet3_edges, radius=FILLET3_R)

    # Sketch10 → Boss-Extrude4 (add, through all)
    with BuildSketch(Plane(origin=(0, 3.175, 0), x_dir=(1, 0, 0), z_dir=(0, 1, 0))):
        with BuildLine():
            ThreePointArc((41.142321921, 185.080577729), (43.382996969, 107.81939227), (67.928946778, 34.526774967))
            ThreePointArc((67.928946778, 34.526774967), (8.977730657, 75.669282752), (-57.964006259, 49.463258873))
            ThreePointArc((-57.964006259, 49.463258873), (-16.94944122, 114.977483636), (3.307678079, 189.569422271))
            ThreePointArc((3.307678079, 189.569422271), (24.469422271, 206.242321921), (41.142321921, 185.080577729))
        make_face()
        with Locations((22.225, 187.325)):
            Circle(SKETCH10_R, mode=Mode.SUBTRACT)
    extrude(amount=-BOSS_EXTRUDE4_DEPTH)


solid = part.part
